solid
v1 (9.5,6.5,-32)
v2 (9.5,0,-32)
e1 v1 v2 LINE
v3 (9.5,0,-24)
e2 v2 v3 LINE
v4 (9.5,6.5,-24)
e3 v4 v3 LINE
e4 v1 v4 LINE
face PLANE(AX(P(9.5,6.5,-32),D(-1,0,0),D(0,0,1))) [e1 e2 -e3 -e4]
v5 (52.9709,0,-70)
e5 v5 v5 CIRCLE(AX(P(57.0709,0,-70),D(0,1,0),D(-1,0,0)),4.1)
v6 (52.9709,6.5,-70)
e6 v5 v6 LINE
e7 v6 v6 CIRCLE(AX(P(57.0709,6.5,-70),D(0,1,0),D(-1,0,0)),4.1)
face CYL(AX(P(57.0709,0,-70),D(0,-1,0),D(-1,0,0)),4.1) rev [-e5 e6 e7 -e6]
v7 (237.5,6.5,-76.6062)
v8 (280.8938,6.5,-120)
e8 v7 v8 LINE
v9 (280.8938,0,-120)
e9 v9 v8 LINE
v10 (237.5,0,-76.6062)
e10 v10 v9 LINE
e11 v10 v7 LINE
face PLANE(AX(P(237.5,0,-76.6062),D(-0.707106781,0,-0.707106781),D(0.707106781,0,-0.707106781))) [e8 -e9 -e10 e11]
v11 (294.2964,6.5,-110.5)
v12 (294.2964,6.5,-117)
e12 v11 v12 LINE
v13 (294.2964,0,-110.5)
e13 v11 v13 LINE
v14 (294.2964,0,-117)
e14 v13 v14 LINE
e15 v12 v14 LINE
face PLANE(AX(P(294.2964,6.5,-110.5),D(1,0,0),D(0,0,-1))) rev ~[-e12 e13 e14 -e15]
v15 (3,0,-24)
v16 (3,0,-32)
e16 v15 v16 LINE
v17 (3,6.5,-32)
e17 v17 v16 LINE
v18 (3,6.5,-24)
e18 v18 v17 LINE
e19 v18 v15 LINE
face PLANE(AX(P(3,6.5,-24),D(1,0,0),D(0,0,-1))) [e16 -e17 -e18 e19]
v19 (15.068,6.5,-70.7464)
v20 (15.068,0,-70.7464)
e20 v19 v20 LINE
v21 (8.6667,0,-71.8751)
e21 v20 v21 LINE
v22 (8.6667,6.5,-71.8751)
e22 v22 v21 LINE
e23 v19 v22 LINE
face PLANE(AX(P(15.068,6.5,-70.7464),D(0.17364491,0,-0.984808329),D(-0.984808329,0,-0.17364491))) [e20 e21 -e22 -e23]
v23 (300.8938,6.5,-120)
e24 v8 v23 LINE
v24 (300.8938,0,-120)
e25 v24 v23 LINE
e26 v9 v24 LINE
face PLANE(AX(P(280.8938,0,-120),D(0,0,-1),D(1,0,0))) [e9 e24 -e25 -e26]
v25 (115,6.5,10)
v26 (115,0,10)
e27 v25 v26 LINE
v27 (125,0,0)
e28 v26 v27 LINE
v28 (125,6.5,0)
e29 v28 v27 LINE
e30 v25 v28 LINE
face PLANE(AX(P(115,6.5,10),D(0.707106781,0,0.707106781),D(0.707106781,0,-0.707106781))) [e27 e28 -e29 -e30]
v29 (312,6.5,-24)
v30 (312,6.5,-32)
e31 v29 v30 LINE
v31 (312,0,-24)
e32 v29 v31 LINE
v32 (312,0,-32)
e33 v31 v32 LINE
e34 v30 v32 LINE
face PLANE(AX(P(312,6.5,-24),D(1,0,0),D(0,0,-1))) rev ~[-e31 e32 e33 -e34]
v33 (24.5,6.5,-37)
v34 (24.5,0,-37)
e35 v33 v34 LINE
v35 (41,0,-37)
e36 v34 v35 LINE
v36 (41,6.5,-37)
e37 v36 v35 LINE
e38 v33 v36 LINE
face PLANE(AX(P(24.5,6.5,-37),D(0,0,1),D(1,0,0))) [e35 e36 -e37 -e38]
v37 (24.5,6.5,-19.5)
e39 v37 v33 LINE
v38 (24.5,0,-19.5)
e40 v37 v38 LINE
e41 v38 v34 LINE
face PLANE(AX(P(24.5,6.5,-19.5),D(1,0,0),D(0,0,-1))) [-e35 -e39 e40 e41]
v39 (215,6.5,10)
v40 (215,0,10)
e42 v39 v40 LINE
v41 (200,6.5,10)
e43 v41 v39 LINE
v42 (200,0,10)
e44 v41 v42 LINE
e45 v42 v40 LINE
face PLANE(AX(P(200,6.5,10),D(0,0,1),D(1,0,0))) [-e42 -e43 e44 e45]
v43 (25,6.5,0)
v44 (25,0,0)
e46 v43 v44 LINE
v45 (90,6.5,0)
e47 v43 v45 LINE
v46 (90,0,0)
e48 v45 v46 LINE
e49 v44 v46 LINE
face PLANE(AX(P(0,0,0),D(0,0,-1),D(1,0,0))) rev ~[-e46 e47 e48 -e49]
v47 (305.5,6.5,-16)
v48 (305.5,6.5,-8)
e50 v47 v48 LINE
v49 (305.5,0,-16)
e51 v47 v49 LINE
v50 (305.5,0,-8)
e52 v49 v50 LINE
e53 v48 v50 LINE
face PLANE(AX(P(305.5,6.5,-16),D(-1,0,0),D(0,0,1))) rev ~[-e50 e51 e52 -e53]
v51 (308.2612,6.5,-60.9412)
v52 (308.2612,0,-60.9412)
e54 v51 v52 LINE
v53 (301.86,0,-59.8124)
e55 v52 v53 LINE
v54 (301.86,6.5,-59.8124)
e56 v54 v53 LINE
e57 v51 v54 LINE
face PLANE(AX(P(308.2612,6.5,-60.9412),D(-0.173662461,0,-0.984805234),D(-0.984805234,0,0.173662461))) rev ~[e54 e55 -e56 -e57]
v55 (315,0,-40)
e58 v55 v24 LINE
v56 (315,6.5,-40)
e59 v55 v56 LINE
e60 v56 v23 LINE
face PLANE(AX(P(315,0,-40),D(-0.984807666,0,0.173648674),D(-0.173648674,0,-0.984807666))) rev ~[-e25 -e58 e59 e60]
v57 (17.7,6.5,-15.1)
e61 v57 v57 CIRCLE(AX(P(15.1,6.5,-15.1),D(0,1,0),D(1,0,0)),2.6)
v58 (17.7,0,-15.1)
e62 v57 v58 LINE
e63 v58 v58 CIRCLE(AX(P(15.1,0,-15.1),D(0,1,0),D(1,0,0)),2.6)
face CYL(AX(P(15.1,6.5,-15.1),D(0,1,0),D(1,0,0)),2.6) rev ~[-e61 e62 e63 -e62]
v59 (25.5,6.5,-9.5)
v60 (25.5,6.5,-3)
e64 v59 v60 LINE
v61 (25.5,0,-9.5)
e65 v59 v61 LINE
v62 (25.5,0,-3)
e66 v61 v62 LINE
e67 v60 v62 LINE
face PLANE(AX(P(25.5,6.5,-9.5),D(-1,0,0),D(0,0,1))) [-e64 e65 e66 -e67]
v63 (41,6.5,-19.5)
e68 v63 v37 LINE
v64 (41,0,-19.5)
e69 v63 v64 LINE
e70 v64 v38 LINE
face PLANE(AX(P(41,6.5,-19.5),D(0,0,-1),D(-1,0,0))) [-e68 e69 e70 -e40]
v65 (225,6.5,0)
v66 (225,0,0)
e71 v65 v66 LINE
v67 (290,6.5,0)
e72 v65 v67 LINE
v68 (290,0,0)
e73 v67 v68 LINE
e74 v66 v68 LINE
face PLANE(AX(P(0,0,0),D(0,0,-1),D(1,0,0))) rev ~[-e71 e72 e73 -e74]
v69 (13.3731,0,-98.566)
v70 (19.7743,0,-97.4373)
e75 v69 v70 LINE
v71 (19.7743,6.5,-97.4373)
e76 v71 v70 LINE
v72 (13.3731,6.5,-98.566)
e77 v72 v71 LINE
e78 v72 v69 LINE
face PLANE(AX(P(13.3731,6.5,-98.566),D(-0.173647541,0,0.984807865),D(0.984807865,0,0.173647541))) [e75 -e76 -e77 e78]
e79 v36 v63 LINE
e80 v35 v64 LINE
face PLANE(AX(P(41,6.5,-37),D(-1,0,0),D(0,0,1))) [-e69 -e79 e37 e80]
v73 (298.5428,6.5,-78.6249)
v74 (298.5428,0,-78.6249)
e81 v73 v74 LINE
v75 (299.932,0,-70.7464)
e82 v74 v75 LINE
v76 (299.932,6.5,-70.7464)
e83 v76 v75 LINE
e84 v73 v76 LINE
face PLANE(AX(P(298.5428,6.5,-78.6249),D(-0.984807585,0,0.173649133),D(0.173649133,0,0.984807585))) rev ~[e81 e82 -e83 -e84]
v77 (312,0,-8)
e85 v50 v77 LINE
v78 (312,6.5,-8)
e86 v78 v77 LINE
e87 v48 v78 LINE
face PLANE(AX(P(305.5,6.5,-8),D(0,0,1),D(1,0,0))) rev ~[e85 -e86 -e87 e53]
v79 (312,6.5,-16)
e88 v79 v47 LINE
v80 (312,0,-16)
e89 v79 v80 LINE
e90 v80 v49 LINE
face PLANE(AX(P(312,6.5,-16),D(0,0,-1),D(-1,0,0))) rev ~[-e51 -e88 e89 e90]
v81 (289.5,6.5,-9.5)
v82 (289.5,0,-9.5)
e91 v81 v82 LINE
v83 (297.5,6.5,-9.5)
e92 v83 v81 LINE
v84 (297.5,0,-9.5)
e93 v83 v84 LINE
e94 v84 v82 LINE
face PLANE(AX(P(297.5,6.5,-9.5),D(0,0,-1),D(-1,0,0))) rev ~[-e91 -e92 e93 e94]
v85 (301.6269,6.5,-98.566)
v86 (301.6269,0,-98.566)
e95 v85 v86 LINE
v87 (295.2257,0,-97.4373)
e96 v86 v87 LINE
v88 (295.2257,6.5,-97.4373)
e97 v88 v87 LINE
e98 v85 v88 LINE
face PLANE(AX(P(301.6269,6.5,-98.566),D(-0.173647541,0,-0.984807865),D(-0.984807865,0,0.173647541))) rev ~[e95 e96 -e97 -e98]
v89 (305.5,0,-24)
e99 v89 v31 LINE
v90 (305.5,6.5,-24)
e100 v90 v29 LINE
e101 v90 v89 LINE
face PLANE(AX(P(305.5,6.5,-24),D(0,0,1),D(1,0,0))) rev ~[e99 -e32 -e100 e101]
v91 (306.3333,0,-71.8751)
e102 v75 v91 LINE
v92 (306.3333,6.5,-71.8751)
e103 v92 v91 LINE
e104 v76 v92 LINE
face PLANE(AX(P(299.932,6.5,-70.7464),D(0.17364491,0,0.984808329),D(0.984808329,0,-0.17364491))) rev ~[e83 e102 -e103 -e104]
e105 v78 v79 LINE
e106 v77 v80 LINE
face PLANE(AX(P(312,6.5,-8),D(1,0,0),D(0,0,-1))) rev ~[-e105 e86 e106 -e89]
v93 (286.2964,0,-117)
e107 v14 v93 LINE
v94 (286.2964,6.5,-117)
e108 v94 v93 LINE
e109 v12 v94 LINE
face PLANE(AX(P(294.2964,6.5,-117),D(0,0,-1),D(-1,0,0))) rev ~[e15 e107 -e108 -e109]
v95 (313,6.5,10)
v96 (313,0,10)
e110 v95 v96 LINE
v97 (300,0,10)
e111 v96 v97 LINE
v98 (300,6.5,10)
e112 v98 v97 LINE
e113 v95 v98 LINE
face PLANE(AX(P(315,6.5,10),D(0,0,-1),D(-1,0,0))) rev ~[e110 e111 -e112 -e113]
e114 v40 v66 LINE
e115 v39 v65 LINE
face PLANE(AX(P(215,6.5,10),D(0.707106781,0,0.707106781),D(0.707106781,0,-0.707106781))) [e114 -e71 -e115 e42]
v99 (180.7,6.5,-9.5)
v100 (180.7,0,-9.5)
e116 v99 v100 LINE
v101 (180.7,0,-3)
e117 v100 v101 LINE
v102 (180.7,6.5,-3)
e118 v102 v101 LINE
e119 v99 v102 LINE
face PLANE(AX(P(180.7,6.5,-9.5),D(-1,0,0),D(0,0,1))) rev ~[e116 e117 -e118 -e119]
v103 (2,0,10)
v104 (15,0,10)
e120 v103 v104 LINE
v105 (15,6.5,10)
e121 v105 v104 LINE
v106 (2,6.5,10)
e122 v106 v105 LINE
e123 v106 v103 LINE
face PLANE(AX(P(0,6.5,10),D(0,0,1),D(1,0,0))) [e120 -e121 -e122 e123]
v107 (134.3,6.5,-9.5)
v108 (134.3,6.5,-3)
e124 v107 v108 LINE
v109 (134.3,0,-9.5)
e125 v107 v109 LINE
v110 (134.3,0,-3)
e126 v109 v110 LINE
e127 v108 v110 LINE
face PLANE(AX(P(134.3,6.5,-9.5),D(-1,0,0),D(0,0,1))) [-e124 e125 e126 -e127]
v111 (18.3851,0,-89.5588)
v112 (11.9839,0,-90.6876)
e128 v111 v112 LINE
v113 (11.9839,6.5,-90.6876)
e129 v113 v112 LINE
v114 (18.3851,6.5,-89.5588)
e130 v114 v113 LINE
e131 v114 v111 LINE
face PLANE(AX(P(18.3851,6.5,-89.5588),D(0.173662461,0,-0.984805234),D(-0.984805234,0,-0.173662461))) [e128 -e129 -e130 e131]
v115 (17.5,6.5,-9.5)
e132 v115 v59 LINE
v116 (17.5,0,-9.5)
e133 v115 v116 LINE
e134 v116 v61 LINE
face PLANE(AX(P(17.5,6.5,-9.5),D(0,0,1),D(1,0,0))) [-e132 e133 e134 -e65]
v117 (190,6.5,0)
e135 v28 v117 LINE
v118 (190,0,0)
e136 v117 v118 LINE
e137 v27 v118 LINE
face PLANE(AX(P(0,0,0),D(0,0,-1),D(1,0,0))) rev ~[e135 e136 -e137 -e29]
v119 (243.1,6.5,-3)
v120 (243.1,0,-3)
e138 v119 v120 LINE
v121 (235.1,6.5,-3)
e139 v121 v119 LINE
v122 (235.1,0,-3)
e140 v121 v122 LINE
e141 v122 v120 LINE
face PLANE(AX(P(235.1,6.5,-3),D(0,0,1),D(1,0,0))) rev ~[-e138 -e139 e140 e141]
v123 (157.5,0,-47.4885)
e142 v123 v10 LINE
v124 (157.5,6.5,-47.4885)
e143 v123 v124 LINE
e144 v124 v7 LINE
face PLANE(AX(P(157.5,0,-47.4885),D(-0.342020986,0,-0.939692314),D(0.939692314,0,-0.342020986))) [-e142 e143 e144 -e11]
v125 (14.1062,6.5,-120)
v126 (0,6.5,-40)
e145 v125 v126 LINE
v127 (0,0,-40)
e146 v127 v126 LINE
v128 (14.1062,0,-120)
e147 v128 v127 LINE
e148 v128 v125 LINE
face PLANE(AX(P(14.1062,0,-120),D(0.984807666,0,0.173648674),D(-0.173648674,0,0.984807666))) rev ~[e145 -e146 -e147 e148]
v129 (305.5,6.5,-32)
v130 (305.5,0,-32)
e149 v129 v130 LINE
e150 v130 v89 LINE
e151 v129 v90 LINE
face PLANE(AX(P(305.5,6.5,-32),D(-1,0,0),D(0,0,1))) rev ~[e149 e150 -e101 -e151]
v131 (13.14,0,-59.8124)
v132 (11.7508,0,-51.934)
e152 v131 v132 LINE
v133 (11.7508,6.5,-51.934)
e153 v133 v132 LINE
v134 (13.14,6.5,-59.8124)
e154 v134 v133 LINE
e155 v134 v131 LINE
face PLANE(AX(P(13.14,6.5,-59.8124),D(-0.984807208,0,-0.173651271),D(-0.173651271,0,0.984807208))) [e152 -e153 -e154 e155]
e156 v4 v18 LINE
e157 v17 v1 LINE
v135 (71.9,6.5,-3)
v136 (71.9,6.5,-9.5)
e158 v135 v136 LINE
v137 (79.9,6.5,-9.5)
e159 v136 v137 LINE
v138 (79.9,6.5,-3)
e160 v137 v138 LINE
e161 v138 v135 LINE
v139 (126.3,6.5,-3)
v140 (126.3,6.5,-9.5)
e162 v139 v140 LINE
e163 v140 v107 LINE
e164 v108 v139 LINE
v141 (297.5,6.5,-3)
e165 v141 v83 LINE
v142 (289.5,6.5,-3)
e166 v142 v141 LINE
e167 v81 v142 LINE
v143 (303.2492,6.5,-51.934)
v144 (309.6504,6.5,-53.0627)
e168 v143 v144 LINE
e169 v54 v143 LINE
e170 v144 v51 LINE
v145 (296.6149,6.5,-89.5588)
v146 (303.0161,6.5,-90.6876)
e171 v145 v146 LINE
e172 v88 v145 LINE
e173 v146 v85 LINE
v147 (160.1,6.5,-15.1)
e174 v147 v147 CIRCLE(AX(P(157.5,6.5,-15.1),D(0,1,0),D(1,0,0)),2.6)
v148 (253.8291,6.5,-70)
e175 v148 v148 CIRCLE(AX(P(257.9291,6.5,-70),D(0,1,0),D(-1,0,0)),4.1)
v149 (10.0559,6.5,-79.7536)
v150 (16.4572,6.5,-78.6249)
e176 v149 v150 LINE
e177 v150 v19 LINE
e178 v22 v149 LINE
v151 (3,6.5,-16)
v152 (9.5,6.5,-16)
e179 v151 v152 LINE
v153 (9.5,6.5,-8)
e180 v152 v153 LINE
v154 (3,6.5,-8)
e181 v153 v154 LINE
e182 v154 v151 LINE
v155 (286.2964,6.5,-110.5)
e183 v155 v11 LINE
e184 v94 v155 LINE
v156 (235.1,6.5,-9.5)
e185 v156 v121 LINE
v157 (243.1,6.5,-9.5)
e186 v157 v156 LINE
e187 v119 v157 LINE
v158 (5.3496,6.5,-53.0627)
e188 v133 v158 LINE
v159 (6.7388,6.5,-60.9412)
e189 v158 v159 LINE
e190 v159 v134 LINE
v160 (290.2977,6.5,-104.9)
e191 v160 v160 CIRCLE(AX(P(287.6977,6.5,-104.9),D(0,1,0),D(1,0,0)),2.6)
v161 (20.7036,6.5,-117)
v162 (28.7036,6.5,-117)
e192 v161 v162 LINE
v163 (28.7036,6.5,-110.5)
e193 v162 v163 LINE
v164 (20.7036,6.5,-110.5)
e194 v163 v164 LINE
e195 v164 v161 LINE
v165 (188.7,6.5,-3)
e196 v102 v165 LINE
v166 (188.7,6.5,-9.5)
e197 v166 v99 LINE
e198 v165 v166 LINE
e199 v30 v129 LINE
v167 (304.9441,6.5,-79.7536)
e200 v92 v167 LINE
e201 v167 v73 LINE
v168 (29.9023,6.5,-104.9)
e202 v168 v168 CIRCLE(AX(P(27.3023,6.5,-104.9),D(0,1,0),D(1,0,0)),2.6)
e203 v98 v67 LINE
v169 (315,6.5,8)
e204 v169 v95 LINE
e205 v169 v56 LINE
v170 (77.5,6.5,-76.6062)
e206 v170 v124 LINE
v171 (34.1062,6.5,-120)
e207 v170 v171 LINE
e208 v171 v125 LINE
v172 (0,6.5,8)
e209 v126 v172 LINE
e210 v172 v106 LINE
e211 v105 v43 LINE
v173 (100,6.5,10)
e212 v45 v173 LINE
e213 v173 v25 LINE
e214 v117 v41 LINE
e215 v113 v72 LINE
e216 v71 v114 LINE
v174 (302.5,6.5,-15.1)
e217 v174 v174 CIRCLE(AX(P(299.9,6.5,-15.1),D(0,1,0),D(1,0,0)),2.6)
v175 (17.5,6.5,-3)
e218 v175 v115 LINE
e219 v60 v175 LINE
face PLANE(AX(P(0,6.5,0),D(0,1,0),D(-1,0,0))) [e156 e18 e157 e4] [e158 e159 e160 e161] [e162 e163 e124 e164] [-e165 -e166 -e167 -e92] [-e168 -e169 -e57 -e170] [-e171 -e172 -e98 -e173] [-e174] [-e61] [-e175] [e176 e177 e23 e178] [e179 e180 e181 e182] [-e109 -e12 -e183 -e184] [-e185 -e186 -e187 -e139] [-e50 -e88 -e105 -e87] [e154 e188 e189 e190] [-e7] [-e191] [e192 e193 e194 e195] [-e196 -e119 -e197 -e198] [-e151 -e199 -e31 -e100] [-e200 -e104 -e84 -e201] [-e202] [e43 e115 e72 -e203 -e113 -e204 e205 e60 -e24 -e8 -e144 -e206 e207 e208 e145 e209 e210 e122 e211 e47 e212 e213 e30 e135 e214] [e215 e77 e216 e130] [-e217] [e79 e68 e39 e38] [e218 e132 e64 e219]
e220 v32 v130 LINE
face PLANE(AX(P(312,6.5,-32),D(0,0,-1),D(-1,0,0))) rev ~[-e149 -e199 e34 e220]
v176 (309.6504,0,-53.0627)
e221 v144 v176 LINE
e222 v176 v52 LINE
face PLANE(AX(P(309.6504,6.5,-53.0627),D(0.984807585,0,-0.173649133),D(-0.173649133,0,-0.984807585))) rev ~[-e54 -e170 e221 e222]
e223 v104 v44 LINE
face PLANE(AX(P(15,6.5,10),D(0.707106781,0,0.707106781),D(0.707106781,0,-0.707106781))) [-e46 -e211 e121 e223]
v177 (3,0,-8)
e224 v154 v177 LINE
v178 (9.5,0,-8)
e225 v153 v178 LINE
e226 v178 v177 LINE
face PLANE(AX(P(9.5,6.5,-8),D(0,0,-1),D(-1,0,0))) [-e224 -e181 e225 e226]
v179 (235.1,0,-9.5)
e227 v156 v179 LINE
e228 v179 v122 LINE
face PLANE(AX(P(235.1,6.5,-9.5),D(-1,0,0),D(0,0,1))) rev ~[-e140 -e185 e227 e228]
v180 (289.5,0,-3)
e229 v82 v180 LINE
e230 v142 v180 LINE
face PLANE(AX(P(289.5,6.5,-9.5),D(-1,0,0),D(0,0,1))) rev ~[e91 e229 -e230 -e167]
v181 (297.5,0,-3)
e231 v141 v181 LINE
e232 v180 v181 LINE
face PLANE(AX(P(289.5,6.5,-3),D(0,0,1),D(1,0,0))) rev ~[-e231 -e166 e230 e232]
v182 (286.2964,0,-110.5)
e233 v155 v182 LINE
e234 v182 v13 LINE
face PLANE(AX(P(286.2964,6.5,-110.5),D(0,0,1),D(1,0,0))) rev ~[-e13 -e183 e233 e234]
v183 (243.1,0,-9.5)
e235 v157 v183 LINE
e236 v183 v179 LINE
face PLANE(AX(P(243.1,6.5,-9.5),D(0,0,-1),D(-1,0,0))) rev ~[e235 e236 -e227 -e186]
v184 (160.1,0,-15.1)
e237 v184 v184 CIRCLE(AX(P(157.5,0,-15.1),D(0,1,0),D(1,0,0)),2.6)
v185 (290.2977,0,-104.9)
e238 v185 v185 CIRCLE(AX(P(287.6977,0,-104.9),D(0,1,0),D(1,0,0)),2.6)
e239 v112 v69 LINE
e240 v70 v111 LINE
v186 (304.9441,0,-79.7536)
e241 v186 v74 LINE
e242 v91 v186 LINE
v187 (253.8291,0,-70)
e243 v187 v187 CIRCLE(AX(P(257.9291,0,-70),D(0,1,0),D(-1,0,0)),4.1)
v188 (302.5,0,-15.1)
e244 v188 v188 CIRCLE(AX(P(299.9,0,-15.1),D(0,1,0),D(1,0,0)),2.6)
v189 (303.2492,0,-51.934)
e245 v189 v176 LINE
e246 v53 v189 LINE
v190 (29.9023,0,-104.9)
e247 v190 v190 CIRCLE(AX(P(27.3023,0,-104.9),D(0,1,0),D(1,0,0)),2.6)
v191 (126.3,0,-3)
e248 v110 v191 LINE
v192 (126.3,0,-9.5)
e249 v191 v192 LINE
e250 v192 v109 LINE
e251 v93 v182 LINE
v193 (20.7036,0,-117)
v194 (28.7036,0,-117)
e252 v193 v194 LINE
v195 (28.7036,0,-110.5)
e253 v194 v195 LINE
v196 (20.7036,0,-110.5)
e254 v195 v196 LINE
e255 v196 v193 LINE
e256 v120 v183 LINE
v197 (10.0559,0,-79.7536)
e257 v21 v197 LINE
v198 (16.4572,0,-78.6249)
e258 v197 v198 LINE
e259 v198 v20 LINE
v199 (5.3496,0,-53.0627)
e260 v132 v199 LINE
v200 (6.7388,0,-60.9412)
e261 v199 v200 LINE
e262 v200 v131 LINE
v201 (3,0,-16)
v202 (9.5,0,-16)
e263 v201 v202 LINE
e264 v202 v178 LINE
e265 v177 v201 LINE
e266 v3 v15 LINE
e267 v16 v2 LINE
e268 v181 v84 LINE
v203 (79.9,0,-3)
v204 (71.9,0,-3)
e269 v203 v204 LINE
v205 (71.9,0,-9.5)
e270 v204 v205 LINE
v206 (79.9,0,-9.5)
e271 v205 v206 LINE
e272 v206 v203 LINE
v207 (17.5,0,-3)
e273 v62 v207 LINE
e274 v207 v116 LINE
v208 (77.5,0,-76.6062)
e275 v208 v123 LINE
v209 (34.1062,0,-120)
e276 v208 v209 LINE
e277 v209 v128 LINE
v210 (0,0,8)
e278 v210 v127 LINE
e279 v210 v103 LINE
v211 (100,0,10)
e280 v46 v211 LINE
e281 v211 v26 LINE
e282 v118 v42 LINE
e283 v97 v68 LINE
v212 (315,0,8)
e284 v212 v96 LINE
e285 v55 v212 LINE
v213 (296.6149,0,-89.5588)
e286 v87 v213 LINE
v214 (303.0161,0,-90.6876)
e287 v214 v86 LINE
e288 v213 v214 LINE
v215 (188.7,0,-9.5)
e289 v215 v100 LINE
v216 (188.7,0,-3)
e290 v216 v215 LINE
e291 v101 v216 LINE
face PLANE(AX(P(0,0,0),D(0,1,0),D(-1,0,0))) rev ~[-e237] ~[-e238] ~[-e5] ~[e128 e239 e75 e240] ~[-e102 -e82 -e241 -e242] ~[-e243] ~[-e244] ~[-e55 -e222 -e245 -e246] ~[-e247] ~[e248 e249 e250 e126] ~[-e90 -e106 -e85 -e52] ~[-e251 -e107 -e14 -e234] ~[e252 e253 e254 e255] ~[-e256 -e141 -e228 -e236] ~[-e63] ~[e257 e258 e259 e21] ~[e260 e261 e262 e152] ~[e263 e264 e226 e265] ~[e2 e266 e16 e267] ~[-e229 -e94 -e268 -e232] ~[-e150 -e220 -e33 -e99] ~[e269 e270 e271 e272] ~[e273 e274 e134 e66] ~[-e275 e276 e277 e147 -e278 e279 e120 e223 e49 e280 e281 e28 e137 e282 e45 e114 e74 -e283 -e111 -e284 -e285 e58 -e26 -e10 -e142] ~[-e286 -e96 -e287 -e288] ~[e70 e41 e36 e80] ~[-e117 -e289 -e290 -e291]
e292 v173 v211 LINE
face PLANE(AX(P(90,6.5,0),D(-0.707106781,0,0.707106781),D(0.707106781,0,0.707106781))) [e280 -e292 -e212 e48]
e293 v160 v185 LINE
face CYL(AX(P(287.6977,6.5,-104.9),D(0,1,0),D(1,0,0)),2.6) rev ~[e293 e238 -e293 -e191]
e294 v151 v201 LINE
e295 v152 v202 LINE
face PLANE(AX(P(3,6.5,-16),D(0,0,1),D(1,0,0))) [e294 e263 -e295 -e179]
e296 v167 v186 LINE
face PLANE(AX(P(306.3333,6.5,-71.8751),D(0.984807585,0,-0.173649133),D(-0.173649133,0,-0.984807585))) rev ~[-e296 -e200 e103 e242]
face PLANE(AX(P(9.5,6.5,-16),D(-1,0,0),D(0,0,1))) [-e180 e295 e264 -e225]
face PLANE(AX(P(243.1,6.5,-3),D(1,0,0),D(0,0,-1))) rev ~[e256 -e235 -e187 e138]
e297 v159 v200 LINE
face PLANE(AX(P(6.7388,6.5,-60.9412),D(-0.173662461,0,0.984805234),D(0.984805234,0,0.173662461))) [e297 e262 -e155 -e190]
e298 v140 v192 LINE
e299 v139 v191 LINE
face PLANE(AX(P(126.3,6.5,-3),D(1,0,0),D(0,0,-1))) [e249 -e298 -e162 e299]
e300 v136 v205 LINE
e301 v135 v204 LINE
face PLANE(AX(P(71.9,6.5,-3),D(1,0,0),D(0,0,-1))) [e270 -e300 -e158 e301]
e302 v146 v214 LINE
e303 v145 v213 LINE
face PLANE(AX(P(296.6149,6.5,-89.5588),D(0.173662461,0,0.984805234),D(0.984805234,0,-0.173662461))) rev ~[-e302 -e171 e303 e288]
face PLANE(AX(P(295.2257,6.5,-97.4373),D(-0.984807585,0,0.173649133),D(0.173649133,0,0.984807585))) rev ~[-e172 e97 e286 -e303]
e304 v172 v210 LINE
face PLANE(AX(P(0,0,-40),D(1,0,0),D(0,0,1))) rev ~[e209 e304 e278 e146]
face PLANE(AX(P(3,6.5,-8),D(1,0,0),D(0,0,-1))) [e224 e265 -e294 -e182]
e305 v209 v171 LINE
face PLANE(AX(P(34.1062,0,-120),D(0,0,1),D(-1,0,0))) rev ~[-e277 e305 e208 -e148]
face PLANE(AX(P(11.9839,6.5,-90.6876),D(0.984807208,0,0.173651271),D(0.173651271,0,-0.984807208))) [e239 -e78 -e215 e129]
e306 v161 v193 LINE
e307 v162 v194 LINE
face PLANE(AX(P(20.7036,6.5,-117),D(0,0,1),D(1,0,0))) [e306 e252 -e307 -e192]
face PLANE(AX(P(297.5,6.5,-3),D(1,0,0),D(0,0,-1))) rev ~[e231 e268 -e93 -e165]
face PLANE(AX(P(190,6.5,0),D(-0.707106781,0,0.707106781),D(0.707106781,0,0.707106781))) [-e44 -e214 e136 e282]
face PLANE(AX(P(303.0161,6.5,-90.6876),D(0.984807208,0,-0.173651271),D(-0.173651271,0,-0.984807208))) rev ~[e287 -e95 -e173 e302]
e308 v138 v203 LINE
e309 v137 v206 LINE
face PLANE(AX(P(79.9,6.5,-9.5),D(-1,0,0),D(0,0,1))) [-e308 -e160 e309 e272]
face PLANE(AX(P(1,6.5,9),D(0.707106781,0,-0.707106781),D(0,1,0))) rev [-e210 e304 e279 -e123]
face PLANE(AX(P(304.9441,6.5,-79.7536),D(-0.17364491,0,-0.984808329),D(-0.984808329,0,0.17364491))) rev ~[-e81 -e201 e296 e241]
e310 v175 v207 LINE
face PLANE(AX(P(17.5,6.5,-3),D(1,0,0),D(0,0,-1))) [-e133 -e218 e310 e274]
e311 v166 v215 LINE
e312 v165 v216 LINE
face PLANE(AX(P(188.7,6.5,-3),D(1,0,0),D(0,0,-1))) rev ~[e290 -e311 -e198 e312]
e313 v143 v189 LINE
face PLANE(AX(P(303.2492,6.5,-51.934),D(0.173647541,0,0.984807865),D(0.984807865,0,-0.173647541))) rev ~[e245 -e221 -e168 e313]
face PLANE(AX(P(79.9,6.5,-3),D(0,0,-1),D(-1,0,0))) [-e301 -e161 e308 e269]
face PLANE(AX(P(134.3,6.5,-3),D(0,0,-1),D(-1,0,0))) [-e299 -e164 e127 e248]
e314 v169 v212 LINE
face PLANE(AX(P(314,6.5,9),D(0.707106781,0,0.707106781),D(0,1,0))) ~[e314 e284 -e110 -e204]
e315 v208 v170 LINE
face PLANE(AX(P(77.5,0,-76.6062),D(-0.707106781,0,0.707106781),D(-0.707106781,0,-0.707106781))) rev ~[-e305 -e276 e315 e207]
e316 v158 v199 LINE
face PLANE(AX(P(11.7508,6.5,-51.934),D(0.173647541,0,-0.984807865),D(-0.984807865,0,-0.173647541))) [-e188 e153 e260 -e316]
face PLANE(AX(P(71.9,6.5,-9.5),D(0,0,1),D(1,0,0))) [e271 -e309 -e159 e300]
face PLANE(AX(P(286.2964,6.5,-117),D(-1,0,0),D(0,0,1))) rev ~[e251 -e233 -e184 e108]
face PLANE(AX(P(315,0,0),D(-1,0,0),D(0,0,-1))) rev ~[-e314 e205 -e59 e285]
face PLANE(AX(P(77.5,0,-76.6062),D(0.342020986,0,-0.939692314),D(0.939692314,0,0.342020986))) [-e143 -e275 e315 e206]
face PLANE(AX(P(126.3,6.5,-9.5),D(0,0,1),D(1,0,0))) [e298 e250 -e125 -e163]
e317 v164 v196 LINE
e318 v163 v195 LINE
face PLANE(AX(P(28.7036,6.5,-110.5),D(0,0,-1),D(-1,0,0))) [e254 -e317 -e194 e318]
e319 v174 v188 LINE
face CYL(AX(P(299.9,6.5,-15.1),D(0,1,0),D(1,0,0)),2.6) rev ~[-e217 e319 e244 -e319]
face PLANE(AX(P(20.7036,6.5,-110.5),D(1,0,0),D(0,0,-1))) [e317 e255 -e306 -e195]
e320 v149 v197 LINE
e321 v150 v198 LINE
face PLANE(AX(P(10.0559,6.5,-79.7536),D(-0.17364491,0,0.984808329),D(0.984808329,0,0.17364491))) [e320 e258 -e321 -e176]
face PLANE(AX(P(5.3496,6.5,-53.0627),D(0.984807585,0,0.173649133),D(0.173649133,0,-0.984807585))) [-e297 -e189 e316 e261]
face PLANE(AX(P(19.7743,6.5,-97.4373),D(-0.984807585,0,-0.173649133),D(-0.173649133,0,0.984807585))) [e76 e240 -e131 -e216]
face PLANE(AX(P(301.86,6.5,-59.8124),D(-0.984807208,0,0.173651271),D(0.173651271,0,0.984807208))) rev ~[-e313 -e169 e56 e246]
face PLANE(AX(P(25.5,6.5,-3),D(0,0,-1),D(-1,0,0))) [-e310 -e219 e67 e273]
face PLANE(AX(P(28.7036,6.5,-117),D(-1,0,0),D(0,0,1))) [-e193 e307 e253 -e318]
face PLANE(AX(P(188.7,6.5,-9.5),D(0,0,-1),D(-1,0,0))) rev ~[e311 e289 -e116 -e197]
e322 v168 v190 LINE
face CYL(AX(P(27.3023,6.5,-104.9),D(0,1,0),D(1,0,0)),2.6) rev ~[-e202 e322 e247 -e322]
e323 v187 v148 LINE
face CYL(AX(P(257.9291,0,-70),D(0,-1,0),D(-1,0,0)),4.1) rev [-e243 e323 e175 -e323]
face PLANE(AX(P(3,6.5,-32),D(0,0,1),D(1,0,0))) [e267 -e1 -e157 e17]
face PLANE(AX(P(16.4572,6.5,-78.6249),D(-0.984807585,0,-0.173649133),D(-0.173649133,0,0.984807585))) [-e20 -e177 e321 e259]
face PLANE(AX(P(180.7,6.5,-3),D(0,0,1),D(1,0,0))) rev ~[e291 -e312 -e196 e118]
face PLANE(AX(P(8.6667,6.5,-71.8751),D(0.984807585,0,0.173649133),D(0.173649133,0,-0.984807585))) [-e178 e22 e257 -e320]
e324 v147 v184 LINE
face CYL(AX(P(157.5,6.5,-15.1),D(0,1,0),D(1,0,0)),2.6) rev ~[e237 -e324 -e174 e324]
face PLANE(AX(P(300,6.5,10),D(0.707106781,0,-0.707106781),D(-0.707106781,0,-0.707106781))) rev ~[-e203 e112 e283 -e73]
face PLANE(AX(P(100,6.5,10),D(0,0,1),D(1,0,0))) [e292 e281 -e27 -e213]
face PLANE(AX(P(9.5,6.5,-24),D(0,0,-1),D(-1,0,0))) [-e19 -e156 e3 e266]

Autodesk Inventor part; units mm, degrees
ref_plane "YZ Plane" through (0, 0, 0) normal (1, 0, 0) x (0, 1, 0)
ref_plane "XZ Plane" through (0, 0, 0) normal (0, 1, 0) x (-1, 0, 0)
ref_plane "XY Plane" through (0, 0, 0) normal (0, 0, 1) x (1, 0, 0)
sketch "Sketch1" plane through (0, 0, 0) normal (0, 1, 0) x (-1, 0, 0)
  line L0 (-77.5, -76.6062) -> (-157.5, -47.4885)
  line L1 (-157.5, -47.4885) -> (-237.5, -76.6062)
  line L2 (-77.5, -76.6062) -> (-34.1062, -120)
  line L3 (-237.5, -76.6062) -> (-280.8938, -120)
  circle A0 centre (-157.5, -172.5) radius 132.5 construction
  line L4 (-280.8938, -120) -> (-300.8938, -120)
  line L5 (-34.1062, -120) -> (-14.1062, -120)
  circle A1 centre (-57.0709, -70) radius 11 construction
  circle A2 centre (-257.9291, -70) radius 11 construction
  line L6 (-14.1062, -120) -> (0, -40)
  line L7 (0, -40) -> (0, 0)
  line L8 (0, 0) -> (-315, 0)
  line L9 (-315, 0) -> (-315, -40)
  line L10 (-315, -40) -> (-300.8938, -120)
  circle A3 centre (-57.0709, -70) radius 4.1
  circle A4 centre (-257.9291, -70) radius 4.1
  dimension "d0" = 140
  dimension "d1" = 90
  dimension "d2" = 160
  dimension "d3" = 265
  dimension "d4" = 20
  dimension "d5" = 22
  dimension "d6" = 40
  dimension "d7" = 10
  dimension "d8" = 10
  dimension "d9" = 80
  dimension "d10" = 172.5
  dimension "d11" = 315
  dimension "d12" = 8.2
  dimension "d13" = 70
extrude "Extrusion1" add sketch "Sketch1" along normal blind 6.5
sketch "Sketch4" plane through (0, 6.5, 0) normal (0, 1, 0) x (1, 0, 0)
  line L0 (0, 40) -> (0, 0) projected
  line L1 (0, 0) -> (315, 0) projected
  line L2 (315, 0) -> (315, 40) projected
  line L3 (34.1062, 120) -> (14.1062, 120) projected
  line L4 (14.1062, 120) -> (0, 40) projected
  line L5 (9.5, 9.5) -> (305.5, 9.5) construction
  line L6 (305.5, 9.5) -> (305.5, 3) construction
  line L7 (305.5, 3) -> (9.5, 3) construction
  line L8 (9.5, 3) -> (9.5, 9.5) construction
  line L9 (15.301, 117) -> (34.1062, 117) construction
  line L10 (34.1062, 117) -> (34.1062, 110.5) construction
  line L11 (34.1062, 110.5) -> (15.301, 110.5) construction
  line L12 (15.301, 110.5) -> (15.301, 117) construction
  line L13 (3, 40) -> (9.5, 40) construction
  line L14 (9.5, 40) -> (9.5, 0) construction
  line L15 (9.5, 0) -> (3, 0) construction
  line L16 (3, 0) -> (3, 40) construction
  line L17 (15.301, 109.5) -> (21.7023, 108.3713) construction
  line L18 (21.7023, 108.3713) -> (9.8229, 41) construction
  line L19 (9.8229, 41) -> (3.4216, 42.1287) construction
  line L20 (3.4216, 42.1287) -> (15.301, 109.5) construction
  line L21 (157.5, 47.4885) -> (157.5, 0) construction
  line L22 (17.5, 9.5) -> (25.5, 9.5)
  line L23 (25.5, 9.5) -> (25.5, 3)
  line L24 (25.5, 3) -> (17.5, 3)
  line L25 (17.5, 3) -> (17.5, 9.5)
  line L26 (71.9, 9.5) -> (79.9, 9.5)
  line L27 (79.9, 9.5) -> (79.9, 3)
  line L28 (79.9, 3) -> (71.9, 3)
  line L29 (71.9, 3) -> (71.9, 9.5)
  line L30 (126.3, 9.5) -> (134.3, 9.5)
  line L31 (134.3, 9.5) -> (134.3, 3)
  line L32 (134.3, 3) -> (126.3, 3)
  line L33 (126.3, 3) -> (126.3, 9.5)
  line L34 (3, 32) -> (9.5, 32)
  line L35 (9.5, 32) -> (9.5, 24)
  line L36 (9.5, 24) -> (3, 24)
  line L37 (3, 24) -> (3, 32)
  line L38 (3, 16) -> (9.5, 16)
  line L39 (9.5, 16) -> (9.5, 8)
  line L40 (9.5, 8) -> (3, 8)
  line L41 (3, 8) -> (3, 16)
  line L42 (20.7036, 117) -> (28.7036, 117)
  line L43 (28.7036, 117) -> (28.7036, 110.5)
  line L44 (28.7036, 110.5) -> (20.7036, 110.5)
  line L45 (20.7036, 110.5) -> (20.7036, 117)
  line L46 (13.3731, 98.566) -> (19.7743, 97.4373)
  line L47 (19.7743, 97.4373) -> (18.3851, 89.5588)
  line L48 (18.3851, 89.5588) -> (11.9839, 90.6876)
  line L49 (11.9839, 90.6876) -> (13.3731, 98.566)
  line L50 (10.0559, 79.7536) -> (16.4572, 78.6249)
  line L51 (16.4572, 78.6249) -> (15.068, 70.7464)
  line L52 (15.068, 70.7464) -> (8.6667, 71.8751)
  line L53 (8.6667, 71.8751) -> (10.0559, 79.7536)
  line L54 (6.7388, 60.9412) -> (13.14, 59.8124)
  line L55 (13.14, 59.8124) -> (11.7508, 51.934)
  line L56 (11.7508, 51.934) -> (5.3496, 53.0627)
  line L57 (5.3496, 53.0627) -> (6.7388, 60.9412)
  line L58 (9.9394, 60.3768) -> (11.8673, 71.3108) construction
  line L59 (8.5502, 52.4983) -> (6.6223, 41.5644) construction
  line L60 (13.2565, 79.1892) -> (15.1845, 90.1232) construction
  line L61 (16.5737, 98.0017) -> (18.5016, 108.9356) construction
  line L62 (6.25, 40) -> (6.25, 32) construction
  line L63 (6.25, 24) -> (6.25, 16) construction
  line L64 (6.25, 8) -> (6.25, 0) construction
  line L65 (25.5, 6.25) -> (71.9, 6.25) construction
  line L66 (79.9, 6.25) -> (126.3, 6.25) construction
  line L67 (134.3, 6.25) -> (180.7, 6.25) construction
  line L68 (297.5, 9.5) -> (289.5, 9.5)
  line L69 (289.5, 9.5) -> (289.5, 3)
  line L70 (289.5, 3) -> (297.5, 3)
  line L71 (297.5, 3) -> (297.5, 9.5)
  line L72 (243.1, 9.5) -> (235.1, 9.5)
  line L73 (235.1, 9.5) -> (235.1, 3)
  line L74 (235.1, 3) -> (243.1, 3)
  line L75 (243.1, 3) -> (243.1, 9.5)
  line L76 (188.7, 9.5) -> (180.7, 9.5)
  line L77 (180.7, 9.5) -> (180.7, 3)
  line L78 (180.7, 3) -> (188.7, 3)
  line L79 (188.7, 3) -> (188.7, 9.5)
  line L80 (312, 32) -> (305.5, 32)
  line L81 (305.5, 32) -> (305.5, 24)
  line L82 (305.5, 24) -> (312, 24)
  line L83 (312, 24) -> (312, 32)
  line L84 (312, 16) -> (305.5, 16)
  line L85 (305.5, 16) -> (305.5, 8)
  line L86 (305.5, 8) -> (312, 8)
  line L87 (312, 8) -> (312, 16)
  line L88 (294.2964, 117) -> (286.2964, 117)
  line L89 (286.2964, 117) -> (286.2964, 110.5)
  line L90 (286.2964, 110.5) -> (294.2964, 110.5)
  line L91 (294.2964, 110.5) -> (294.2964, 117)
  line L92 (301.6269, 98.566) -> (295.2257, 97.4373)
  line L93 (295.2257, 97.4373) -> (296.6149, 89.5588)
  line L94 (296.6149, 89.5588) -> (303.0161, 90.6876)
  line L95 (303.0161, 90.6876) -> (301.6269, 98.566)
  line L96 (304.9441, 79.7536) -> (298.5428, 78.6249)
  line L97 (298.5428, 78.6249) -> (299.932, 70.7464)
  line L98 (299.932, 70.7464) -> (306.3333, 71.8751)
  line L99 (306.3333, 71.8751) -> (304.9441, 79.7536)
  line L100 (308.2612, 60.9412) -> (301.86, 59.8124)
  line L101 (301.86, 59.8124) -> (303.2492, 51.934)
  line L102 (303.2492, 51.934) -> (309.6504, 53.0627)
  line L103 (309.6504, 53.0627) -> (308.2612, 60.9412)
  circle A0 centre (27.3023, 104.9) radius 2.6
  circle A1 centre (15.1, 15.1) radius 2.6
  circle A2 centre (157.5, 15.1) radius 2.6
  circle A3 centre (287.6977, 104.9) radius 2.6
  circle A4 centre (299.9, 15.1) radius 2.6
  point P0 (24.7036, 117)
  point P1 (24.7036, 117)
  point P2 (157.5, 6.25)
  point P3 (290.2964, 117)
  point P4 (290.2964, 117)
  point P5 (305.0606, 60.3768)
  point P6 (303.1327, 71.3108)
  point P7 (306.4498, 52.4983)
  point P8 (301.7435, 79.1892)
  point P9 (299.8155, 90.1232)
  point P10 (298.4263, 98.0017)
  point P11 (296.4984, 108.9356)
  point P12 (308.75, 32)
  point P13 (308.75, 24)
  point P14 (308.75, 16)
  point P15 (308.75, 8)
  point P16 (289.5, 6.25)
  point P17 (243.1, 6.25)
  point P18 (235.1, 6.25)
  point P19 (188.7, 6.25)
  dimension "d17" = 9.5
  dimension "d18" = 3
  dimension "d19" = 6.5
  dimension "d20" = 3
  dimension "d21" = 3
  dimension "d23" = 1
  dimension "d24" = 1
  dimension "d25" = 3
  dimension "d26" = 8
  dimension "d27" = 8
  dimension "d28" = 5.2
  dimension "d29" = 5.6
  dimension "d30" = 5.6
  dimension "d31" = 5.6
  dimension "d32" = 5.6
extrude "Extrusion2" cut sketch "Sketch4" against normal through all
sketch "Sketch5" plane through (0, 6.5, 0) normal (0, 1, 0) x (1, 0, 0)
  line L0 (0, 0) -> (315, 0) projected
  line L1 (34.1062, 120) -> (14.1062, 120) projected
  line L2 (0, 0) -> (0, -10)
  line L3 (0, -10) -> (15, -10)
  line L4 (15, -10) -> (25, 0)
  line L5 (25, 0) -> (0, 0)
  line L6 (90, 0) -> (100, -10)
  line L7 (100, -10) -> (115, -10)
  line L8 (115, -10) -> (125, 0)
  line L9 (125, 0) -> (90, 0)
  line L10 (190, 0) -> (200, -10)
  line L11 (200, -10) -> (215, -10)
  line L12 (215, -10) -> (225, 0)
  line L13 (315, 0) -> (315, -10)
  line L14 (315, -10) -> (300, -10)
  line L15 (300, -10) -> (290, 0)
  line L16 (20, -5) -> (95, -5) construction
  line L17 (120, -5) -> (195, -5) construction
  line L18 (220, -5) -> (295, -5) construction
  dimension "d35" = 10
  dimension "d36" = 45
  dimension "d37" = 15
  dimension "d38" = 15
  dimension "d39" = 15
  dimension "d40" = 15
extrude "Extrusion3" add sketch "Sketch5" against normal blind 6.5
chamfer "Chamfer1" distance 2 angle 45 2 edges at (0, 3.25, 10) (315, 3.25, 10)
sketch "Sketch6" plane through (0, 6.5, 0) normal (0, 1, 0) x (1, 0, 0)
  line L0 (71.9, 9.5) -> (79.9, 9.5) projected
  line L1 (9.5, 32) -> (9.5, 24) projected
  line L2 (24.5, 37) -> (41, 37)
  line L3 (41, 37) -> (41, 19.5)
  line L4 (41, 19.5) -> (24.5, 19.5)
  line L5 (24.5, 19.5) -> (24.5, 37)
  point P0 (0, 0)
  dimension "d46" = 17.5
  dimension "d47" = 16.5
  dimension "d48" = 10
  dimension "d49" = 15
extrude "Extrusion4" cut sketch "Sketch6" against normal through all
equation "\"d8\" = d7"
equation "\"d17\" = d16 + d19"
equation "\"d18\" = d16"
equation "\"d31\" = d30"
equation "\"d32\" = d31"
equation "\"d38\" = d37"
equation "\"d39\" = d38"
equation "\"d40\" = d39"
equation "\"d16\" = 3"
properties part number "spool_stand_a" material "Plywood, Finish"
